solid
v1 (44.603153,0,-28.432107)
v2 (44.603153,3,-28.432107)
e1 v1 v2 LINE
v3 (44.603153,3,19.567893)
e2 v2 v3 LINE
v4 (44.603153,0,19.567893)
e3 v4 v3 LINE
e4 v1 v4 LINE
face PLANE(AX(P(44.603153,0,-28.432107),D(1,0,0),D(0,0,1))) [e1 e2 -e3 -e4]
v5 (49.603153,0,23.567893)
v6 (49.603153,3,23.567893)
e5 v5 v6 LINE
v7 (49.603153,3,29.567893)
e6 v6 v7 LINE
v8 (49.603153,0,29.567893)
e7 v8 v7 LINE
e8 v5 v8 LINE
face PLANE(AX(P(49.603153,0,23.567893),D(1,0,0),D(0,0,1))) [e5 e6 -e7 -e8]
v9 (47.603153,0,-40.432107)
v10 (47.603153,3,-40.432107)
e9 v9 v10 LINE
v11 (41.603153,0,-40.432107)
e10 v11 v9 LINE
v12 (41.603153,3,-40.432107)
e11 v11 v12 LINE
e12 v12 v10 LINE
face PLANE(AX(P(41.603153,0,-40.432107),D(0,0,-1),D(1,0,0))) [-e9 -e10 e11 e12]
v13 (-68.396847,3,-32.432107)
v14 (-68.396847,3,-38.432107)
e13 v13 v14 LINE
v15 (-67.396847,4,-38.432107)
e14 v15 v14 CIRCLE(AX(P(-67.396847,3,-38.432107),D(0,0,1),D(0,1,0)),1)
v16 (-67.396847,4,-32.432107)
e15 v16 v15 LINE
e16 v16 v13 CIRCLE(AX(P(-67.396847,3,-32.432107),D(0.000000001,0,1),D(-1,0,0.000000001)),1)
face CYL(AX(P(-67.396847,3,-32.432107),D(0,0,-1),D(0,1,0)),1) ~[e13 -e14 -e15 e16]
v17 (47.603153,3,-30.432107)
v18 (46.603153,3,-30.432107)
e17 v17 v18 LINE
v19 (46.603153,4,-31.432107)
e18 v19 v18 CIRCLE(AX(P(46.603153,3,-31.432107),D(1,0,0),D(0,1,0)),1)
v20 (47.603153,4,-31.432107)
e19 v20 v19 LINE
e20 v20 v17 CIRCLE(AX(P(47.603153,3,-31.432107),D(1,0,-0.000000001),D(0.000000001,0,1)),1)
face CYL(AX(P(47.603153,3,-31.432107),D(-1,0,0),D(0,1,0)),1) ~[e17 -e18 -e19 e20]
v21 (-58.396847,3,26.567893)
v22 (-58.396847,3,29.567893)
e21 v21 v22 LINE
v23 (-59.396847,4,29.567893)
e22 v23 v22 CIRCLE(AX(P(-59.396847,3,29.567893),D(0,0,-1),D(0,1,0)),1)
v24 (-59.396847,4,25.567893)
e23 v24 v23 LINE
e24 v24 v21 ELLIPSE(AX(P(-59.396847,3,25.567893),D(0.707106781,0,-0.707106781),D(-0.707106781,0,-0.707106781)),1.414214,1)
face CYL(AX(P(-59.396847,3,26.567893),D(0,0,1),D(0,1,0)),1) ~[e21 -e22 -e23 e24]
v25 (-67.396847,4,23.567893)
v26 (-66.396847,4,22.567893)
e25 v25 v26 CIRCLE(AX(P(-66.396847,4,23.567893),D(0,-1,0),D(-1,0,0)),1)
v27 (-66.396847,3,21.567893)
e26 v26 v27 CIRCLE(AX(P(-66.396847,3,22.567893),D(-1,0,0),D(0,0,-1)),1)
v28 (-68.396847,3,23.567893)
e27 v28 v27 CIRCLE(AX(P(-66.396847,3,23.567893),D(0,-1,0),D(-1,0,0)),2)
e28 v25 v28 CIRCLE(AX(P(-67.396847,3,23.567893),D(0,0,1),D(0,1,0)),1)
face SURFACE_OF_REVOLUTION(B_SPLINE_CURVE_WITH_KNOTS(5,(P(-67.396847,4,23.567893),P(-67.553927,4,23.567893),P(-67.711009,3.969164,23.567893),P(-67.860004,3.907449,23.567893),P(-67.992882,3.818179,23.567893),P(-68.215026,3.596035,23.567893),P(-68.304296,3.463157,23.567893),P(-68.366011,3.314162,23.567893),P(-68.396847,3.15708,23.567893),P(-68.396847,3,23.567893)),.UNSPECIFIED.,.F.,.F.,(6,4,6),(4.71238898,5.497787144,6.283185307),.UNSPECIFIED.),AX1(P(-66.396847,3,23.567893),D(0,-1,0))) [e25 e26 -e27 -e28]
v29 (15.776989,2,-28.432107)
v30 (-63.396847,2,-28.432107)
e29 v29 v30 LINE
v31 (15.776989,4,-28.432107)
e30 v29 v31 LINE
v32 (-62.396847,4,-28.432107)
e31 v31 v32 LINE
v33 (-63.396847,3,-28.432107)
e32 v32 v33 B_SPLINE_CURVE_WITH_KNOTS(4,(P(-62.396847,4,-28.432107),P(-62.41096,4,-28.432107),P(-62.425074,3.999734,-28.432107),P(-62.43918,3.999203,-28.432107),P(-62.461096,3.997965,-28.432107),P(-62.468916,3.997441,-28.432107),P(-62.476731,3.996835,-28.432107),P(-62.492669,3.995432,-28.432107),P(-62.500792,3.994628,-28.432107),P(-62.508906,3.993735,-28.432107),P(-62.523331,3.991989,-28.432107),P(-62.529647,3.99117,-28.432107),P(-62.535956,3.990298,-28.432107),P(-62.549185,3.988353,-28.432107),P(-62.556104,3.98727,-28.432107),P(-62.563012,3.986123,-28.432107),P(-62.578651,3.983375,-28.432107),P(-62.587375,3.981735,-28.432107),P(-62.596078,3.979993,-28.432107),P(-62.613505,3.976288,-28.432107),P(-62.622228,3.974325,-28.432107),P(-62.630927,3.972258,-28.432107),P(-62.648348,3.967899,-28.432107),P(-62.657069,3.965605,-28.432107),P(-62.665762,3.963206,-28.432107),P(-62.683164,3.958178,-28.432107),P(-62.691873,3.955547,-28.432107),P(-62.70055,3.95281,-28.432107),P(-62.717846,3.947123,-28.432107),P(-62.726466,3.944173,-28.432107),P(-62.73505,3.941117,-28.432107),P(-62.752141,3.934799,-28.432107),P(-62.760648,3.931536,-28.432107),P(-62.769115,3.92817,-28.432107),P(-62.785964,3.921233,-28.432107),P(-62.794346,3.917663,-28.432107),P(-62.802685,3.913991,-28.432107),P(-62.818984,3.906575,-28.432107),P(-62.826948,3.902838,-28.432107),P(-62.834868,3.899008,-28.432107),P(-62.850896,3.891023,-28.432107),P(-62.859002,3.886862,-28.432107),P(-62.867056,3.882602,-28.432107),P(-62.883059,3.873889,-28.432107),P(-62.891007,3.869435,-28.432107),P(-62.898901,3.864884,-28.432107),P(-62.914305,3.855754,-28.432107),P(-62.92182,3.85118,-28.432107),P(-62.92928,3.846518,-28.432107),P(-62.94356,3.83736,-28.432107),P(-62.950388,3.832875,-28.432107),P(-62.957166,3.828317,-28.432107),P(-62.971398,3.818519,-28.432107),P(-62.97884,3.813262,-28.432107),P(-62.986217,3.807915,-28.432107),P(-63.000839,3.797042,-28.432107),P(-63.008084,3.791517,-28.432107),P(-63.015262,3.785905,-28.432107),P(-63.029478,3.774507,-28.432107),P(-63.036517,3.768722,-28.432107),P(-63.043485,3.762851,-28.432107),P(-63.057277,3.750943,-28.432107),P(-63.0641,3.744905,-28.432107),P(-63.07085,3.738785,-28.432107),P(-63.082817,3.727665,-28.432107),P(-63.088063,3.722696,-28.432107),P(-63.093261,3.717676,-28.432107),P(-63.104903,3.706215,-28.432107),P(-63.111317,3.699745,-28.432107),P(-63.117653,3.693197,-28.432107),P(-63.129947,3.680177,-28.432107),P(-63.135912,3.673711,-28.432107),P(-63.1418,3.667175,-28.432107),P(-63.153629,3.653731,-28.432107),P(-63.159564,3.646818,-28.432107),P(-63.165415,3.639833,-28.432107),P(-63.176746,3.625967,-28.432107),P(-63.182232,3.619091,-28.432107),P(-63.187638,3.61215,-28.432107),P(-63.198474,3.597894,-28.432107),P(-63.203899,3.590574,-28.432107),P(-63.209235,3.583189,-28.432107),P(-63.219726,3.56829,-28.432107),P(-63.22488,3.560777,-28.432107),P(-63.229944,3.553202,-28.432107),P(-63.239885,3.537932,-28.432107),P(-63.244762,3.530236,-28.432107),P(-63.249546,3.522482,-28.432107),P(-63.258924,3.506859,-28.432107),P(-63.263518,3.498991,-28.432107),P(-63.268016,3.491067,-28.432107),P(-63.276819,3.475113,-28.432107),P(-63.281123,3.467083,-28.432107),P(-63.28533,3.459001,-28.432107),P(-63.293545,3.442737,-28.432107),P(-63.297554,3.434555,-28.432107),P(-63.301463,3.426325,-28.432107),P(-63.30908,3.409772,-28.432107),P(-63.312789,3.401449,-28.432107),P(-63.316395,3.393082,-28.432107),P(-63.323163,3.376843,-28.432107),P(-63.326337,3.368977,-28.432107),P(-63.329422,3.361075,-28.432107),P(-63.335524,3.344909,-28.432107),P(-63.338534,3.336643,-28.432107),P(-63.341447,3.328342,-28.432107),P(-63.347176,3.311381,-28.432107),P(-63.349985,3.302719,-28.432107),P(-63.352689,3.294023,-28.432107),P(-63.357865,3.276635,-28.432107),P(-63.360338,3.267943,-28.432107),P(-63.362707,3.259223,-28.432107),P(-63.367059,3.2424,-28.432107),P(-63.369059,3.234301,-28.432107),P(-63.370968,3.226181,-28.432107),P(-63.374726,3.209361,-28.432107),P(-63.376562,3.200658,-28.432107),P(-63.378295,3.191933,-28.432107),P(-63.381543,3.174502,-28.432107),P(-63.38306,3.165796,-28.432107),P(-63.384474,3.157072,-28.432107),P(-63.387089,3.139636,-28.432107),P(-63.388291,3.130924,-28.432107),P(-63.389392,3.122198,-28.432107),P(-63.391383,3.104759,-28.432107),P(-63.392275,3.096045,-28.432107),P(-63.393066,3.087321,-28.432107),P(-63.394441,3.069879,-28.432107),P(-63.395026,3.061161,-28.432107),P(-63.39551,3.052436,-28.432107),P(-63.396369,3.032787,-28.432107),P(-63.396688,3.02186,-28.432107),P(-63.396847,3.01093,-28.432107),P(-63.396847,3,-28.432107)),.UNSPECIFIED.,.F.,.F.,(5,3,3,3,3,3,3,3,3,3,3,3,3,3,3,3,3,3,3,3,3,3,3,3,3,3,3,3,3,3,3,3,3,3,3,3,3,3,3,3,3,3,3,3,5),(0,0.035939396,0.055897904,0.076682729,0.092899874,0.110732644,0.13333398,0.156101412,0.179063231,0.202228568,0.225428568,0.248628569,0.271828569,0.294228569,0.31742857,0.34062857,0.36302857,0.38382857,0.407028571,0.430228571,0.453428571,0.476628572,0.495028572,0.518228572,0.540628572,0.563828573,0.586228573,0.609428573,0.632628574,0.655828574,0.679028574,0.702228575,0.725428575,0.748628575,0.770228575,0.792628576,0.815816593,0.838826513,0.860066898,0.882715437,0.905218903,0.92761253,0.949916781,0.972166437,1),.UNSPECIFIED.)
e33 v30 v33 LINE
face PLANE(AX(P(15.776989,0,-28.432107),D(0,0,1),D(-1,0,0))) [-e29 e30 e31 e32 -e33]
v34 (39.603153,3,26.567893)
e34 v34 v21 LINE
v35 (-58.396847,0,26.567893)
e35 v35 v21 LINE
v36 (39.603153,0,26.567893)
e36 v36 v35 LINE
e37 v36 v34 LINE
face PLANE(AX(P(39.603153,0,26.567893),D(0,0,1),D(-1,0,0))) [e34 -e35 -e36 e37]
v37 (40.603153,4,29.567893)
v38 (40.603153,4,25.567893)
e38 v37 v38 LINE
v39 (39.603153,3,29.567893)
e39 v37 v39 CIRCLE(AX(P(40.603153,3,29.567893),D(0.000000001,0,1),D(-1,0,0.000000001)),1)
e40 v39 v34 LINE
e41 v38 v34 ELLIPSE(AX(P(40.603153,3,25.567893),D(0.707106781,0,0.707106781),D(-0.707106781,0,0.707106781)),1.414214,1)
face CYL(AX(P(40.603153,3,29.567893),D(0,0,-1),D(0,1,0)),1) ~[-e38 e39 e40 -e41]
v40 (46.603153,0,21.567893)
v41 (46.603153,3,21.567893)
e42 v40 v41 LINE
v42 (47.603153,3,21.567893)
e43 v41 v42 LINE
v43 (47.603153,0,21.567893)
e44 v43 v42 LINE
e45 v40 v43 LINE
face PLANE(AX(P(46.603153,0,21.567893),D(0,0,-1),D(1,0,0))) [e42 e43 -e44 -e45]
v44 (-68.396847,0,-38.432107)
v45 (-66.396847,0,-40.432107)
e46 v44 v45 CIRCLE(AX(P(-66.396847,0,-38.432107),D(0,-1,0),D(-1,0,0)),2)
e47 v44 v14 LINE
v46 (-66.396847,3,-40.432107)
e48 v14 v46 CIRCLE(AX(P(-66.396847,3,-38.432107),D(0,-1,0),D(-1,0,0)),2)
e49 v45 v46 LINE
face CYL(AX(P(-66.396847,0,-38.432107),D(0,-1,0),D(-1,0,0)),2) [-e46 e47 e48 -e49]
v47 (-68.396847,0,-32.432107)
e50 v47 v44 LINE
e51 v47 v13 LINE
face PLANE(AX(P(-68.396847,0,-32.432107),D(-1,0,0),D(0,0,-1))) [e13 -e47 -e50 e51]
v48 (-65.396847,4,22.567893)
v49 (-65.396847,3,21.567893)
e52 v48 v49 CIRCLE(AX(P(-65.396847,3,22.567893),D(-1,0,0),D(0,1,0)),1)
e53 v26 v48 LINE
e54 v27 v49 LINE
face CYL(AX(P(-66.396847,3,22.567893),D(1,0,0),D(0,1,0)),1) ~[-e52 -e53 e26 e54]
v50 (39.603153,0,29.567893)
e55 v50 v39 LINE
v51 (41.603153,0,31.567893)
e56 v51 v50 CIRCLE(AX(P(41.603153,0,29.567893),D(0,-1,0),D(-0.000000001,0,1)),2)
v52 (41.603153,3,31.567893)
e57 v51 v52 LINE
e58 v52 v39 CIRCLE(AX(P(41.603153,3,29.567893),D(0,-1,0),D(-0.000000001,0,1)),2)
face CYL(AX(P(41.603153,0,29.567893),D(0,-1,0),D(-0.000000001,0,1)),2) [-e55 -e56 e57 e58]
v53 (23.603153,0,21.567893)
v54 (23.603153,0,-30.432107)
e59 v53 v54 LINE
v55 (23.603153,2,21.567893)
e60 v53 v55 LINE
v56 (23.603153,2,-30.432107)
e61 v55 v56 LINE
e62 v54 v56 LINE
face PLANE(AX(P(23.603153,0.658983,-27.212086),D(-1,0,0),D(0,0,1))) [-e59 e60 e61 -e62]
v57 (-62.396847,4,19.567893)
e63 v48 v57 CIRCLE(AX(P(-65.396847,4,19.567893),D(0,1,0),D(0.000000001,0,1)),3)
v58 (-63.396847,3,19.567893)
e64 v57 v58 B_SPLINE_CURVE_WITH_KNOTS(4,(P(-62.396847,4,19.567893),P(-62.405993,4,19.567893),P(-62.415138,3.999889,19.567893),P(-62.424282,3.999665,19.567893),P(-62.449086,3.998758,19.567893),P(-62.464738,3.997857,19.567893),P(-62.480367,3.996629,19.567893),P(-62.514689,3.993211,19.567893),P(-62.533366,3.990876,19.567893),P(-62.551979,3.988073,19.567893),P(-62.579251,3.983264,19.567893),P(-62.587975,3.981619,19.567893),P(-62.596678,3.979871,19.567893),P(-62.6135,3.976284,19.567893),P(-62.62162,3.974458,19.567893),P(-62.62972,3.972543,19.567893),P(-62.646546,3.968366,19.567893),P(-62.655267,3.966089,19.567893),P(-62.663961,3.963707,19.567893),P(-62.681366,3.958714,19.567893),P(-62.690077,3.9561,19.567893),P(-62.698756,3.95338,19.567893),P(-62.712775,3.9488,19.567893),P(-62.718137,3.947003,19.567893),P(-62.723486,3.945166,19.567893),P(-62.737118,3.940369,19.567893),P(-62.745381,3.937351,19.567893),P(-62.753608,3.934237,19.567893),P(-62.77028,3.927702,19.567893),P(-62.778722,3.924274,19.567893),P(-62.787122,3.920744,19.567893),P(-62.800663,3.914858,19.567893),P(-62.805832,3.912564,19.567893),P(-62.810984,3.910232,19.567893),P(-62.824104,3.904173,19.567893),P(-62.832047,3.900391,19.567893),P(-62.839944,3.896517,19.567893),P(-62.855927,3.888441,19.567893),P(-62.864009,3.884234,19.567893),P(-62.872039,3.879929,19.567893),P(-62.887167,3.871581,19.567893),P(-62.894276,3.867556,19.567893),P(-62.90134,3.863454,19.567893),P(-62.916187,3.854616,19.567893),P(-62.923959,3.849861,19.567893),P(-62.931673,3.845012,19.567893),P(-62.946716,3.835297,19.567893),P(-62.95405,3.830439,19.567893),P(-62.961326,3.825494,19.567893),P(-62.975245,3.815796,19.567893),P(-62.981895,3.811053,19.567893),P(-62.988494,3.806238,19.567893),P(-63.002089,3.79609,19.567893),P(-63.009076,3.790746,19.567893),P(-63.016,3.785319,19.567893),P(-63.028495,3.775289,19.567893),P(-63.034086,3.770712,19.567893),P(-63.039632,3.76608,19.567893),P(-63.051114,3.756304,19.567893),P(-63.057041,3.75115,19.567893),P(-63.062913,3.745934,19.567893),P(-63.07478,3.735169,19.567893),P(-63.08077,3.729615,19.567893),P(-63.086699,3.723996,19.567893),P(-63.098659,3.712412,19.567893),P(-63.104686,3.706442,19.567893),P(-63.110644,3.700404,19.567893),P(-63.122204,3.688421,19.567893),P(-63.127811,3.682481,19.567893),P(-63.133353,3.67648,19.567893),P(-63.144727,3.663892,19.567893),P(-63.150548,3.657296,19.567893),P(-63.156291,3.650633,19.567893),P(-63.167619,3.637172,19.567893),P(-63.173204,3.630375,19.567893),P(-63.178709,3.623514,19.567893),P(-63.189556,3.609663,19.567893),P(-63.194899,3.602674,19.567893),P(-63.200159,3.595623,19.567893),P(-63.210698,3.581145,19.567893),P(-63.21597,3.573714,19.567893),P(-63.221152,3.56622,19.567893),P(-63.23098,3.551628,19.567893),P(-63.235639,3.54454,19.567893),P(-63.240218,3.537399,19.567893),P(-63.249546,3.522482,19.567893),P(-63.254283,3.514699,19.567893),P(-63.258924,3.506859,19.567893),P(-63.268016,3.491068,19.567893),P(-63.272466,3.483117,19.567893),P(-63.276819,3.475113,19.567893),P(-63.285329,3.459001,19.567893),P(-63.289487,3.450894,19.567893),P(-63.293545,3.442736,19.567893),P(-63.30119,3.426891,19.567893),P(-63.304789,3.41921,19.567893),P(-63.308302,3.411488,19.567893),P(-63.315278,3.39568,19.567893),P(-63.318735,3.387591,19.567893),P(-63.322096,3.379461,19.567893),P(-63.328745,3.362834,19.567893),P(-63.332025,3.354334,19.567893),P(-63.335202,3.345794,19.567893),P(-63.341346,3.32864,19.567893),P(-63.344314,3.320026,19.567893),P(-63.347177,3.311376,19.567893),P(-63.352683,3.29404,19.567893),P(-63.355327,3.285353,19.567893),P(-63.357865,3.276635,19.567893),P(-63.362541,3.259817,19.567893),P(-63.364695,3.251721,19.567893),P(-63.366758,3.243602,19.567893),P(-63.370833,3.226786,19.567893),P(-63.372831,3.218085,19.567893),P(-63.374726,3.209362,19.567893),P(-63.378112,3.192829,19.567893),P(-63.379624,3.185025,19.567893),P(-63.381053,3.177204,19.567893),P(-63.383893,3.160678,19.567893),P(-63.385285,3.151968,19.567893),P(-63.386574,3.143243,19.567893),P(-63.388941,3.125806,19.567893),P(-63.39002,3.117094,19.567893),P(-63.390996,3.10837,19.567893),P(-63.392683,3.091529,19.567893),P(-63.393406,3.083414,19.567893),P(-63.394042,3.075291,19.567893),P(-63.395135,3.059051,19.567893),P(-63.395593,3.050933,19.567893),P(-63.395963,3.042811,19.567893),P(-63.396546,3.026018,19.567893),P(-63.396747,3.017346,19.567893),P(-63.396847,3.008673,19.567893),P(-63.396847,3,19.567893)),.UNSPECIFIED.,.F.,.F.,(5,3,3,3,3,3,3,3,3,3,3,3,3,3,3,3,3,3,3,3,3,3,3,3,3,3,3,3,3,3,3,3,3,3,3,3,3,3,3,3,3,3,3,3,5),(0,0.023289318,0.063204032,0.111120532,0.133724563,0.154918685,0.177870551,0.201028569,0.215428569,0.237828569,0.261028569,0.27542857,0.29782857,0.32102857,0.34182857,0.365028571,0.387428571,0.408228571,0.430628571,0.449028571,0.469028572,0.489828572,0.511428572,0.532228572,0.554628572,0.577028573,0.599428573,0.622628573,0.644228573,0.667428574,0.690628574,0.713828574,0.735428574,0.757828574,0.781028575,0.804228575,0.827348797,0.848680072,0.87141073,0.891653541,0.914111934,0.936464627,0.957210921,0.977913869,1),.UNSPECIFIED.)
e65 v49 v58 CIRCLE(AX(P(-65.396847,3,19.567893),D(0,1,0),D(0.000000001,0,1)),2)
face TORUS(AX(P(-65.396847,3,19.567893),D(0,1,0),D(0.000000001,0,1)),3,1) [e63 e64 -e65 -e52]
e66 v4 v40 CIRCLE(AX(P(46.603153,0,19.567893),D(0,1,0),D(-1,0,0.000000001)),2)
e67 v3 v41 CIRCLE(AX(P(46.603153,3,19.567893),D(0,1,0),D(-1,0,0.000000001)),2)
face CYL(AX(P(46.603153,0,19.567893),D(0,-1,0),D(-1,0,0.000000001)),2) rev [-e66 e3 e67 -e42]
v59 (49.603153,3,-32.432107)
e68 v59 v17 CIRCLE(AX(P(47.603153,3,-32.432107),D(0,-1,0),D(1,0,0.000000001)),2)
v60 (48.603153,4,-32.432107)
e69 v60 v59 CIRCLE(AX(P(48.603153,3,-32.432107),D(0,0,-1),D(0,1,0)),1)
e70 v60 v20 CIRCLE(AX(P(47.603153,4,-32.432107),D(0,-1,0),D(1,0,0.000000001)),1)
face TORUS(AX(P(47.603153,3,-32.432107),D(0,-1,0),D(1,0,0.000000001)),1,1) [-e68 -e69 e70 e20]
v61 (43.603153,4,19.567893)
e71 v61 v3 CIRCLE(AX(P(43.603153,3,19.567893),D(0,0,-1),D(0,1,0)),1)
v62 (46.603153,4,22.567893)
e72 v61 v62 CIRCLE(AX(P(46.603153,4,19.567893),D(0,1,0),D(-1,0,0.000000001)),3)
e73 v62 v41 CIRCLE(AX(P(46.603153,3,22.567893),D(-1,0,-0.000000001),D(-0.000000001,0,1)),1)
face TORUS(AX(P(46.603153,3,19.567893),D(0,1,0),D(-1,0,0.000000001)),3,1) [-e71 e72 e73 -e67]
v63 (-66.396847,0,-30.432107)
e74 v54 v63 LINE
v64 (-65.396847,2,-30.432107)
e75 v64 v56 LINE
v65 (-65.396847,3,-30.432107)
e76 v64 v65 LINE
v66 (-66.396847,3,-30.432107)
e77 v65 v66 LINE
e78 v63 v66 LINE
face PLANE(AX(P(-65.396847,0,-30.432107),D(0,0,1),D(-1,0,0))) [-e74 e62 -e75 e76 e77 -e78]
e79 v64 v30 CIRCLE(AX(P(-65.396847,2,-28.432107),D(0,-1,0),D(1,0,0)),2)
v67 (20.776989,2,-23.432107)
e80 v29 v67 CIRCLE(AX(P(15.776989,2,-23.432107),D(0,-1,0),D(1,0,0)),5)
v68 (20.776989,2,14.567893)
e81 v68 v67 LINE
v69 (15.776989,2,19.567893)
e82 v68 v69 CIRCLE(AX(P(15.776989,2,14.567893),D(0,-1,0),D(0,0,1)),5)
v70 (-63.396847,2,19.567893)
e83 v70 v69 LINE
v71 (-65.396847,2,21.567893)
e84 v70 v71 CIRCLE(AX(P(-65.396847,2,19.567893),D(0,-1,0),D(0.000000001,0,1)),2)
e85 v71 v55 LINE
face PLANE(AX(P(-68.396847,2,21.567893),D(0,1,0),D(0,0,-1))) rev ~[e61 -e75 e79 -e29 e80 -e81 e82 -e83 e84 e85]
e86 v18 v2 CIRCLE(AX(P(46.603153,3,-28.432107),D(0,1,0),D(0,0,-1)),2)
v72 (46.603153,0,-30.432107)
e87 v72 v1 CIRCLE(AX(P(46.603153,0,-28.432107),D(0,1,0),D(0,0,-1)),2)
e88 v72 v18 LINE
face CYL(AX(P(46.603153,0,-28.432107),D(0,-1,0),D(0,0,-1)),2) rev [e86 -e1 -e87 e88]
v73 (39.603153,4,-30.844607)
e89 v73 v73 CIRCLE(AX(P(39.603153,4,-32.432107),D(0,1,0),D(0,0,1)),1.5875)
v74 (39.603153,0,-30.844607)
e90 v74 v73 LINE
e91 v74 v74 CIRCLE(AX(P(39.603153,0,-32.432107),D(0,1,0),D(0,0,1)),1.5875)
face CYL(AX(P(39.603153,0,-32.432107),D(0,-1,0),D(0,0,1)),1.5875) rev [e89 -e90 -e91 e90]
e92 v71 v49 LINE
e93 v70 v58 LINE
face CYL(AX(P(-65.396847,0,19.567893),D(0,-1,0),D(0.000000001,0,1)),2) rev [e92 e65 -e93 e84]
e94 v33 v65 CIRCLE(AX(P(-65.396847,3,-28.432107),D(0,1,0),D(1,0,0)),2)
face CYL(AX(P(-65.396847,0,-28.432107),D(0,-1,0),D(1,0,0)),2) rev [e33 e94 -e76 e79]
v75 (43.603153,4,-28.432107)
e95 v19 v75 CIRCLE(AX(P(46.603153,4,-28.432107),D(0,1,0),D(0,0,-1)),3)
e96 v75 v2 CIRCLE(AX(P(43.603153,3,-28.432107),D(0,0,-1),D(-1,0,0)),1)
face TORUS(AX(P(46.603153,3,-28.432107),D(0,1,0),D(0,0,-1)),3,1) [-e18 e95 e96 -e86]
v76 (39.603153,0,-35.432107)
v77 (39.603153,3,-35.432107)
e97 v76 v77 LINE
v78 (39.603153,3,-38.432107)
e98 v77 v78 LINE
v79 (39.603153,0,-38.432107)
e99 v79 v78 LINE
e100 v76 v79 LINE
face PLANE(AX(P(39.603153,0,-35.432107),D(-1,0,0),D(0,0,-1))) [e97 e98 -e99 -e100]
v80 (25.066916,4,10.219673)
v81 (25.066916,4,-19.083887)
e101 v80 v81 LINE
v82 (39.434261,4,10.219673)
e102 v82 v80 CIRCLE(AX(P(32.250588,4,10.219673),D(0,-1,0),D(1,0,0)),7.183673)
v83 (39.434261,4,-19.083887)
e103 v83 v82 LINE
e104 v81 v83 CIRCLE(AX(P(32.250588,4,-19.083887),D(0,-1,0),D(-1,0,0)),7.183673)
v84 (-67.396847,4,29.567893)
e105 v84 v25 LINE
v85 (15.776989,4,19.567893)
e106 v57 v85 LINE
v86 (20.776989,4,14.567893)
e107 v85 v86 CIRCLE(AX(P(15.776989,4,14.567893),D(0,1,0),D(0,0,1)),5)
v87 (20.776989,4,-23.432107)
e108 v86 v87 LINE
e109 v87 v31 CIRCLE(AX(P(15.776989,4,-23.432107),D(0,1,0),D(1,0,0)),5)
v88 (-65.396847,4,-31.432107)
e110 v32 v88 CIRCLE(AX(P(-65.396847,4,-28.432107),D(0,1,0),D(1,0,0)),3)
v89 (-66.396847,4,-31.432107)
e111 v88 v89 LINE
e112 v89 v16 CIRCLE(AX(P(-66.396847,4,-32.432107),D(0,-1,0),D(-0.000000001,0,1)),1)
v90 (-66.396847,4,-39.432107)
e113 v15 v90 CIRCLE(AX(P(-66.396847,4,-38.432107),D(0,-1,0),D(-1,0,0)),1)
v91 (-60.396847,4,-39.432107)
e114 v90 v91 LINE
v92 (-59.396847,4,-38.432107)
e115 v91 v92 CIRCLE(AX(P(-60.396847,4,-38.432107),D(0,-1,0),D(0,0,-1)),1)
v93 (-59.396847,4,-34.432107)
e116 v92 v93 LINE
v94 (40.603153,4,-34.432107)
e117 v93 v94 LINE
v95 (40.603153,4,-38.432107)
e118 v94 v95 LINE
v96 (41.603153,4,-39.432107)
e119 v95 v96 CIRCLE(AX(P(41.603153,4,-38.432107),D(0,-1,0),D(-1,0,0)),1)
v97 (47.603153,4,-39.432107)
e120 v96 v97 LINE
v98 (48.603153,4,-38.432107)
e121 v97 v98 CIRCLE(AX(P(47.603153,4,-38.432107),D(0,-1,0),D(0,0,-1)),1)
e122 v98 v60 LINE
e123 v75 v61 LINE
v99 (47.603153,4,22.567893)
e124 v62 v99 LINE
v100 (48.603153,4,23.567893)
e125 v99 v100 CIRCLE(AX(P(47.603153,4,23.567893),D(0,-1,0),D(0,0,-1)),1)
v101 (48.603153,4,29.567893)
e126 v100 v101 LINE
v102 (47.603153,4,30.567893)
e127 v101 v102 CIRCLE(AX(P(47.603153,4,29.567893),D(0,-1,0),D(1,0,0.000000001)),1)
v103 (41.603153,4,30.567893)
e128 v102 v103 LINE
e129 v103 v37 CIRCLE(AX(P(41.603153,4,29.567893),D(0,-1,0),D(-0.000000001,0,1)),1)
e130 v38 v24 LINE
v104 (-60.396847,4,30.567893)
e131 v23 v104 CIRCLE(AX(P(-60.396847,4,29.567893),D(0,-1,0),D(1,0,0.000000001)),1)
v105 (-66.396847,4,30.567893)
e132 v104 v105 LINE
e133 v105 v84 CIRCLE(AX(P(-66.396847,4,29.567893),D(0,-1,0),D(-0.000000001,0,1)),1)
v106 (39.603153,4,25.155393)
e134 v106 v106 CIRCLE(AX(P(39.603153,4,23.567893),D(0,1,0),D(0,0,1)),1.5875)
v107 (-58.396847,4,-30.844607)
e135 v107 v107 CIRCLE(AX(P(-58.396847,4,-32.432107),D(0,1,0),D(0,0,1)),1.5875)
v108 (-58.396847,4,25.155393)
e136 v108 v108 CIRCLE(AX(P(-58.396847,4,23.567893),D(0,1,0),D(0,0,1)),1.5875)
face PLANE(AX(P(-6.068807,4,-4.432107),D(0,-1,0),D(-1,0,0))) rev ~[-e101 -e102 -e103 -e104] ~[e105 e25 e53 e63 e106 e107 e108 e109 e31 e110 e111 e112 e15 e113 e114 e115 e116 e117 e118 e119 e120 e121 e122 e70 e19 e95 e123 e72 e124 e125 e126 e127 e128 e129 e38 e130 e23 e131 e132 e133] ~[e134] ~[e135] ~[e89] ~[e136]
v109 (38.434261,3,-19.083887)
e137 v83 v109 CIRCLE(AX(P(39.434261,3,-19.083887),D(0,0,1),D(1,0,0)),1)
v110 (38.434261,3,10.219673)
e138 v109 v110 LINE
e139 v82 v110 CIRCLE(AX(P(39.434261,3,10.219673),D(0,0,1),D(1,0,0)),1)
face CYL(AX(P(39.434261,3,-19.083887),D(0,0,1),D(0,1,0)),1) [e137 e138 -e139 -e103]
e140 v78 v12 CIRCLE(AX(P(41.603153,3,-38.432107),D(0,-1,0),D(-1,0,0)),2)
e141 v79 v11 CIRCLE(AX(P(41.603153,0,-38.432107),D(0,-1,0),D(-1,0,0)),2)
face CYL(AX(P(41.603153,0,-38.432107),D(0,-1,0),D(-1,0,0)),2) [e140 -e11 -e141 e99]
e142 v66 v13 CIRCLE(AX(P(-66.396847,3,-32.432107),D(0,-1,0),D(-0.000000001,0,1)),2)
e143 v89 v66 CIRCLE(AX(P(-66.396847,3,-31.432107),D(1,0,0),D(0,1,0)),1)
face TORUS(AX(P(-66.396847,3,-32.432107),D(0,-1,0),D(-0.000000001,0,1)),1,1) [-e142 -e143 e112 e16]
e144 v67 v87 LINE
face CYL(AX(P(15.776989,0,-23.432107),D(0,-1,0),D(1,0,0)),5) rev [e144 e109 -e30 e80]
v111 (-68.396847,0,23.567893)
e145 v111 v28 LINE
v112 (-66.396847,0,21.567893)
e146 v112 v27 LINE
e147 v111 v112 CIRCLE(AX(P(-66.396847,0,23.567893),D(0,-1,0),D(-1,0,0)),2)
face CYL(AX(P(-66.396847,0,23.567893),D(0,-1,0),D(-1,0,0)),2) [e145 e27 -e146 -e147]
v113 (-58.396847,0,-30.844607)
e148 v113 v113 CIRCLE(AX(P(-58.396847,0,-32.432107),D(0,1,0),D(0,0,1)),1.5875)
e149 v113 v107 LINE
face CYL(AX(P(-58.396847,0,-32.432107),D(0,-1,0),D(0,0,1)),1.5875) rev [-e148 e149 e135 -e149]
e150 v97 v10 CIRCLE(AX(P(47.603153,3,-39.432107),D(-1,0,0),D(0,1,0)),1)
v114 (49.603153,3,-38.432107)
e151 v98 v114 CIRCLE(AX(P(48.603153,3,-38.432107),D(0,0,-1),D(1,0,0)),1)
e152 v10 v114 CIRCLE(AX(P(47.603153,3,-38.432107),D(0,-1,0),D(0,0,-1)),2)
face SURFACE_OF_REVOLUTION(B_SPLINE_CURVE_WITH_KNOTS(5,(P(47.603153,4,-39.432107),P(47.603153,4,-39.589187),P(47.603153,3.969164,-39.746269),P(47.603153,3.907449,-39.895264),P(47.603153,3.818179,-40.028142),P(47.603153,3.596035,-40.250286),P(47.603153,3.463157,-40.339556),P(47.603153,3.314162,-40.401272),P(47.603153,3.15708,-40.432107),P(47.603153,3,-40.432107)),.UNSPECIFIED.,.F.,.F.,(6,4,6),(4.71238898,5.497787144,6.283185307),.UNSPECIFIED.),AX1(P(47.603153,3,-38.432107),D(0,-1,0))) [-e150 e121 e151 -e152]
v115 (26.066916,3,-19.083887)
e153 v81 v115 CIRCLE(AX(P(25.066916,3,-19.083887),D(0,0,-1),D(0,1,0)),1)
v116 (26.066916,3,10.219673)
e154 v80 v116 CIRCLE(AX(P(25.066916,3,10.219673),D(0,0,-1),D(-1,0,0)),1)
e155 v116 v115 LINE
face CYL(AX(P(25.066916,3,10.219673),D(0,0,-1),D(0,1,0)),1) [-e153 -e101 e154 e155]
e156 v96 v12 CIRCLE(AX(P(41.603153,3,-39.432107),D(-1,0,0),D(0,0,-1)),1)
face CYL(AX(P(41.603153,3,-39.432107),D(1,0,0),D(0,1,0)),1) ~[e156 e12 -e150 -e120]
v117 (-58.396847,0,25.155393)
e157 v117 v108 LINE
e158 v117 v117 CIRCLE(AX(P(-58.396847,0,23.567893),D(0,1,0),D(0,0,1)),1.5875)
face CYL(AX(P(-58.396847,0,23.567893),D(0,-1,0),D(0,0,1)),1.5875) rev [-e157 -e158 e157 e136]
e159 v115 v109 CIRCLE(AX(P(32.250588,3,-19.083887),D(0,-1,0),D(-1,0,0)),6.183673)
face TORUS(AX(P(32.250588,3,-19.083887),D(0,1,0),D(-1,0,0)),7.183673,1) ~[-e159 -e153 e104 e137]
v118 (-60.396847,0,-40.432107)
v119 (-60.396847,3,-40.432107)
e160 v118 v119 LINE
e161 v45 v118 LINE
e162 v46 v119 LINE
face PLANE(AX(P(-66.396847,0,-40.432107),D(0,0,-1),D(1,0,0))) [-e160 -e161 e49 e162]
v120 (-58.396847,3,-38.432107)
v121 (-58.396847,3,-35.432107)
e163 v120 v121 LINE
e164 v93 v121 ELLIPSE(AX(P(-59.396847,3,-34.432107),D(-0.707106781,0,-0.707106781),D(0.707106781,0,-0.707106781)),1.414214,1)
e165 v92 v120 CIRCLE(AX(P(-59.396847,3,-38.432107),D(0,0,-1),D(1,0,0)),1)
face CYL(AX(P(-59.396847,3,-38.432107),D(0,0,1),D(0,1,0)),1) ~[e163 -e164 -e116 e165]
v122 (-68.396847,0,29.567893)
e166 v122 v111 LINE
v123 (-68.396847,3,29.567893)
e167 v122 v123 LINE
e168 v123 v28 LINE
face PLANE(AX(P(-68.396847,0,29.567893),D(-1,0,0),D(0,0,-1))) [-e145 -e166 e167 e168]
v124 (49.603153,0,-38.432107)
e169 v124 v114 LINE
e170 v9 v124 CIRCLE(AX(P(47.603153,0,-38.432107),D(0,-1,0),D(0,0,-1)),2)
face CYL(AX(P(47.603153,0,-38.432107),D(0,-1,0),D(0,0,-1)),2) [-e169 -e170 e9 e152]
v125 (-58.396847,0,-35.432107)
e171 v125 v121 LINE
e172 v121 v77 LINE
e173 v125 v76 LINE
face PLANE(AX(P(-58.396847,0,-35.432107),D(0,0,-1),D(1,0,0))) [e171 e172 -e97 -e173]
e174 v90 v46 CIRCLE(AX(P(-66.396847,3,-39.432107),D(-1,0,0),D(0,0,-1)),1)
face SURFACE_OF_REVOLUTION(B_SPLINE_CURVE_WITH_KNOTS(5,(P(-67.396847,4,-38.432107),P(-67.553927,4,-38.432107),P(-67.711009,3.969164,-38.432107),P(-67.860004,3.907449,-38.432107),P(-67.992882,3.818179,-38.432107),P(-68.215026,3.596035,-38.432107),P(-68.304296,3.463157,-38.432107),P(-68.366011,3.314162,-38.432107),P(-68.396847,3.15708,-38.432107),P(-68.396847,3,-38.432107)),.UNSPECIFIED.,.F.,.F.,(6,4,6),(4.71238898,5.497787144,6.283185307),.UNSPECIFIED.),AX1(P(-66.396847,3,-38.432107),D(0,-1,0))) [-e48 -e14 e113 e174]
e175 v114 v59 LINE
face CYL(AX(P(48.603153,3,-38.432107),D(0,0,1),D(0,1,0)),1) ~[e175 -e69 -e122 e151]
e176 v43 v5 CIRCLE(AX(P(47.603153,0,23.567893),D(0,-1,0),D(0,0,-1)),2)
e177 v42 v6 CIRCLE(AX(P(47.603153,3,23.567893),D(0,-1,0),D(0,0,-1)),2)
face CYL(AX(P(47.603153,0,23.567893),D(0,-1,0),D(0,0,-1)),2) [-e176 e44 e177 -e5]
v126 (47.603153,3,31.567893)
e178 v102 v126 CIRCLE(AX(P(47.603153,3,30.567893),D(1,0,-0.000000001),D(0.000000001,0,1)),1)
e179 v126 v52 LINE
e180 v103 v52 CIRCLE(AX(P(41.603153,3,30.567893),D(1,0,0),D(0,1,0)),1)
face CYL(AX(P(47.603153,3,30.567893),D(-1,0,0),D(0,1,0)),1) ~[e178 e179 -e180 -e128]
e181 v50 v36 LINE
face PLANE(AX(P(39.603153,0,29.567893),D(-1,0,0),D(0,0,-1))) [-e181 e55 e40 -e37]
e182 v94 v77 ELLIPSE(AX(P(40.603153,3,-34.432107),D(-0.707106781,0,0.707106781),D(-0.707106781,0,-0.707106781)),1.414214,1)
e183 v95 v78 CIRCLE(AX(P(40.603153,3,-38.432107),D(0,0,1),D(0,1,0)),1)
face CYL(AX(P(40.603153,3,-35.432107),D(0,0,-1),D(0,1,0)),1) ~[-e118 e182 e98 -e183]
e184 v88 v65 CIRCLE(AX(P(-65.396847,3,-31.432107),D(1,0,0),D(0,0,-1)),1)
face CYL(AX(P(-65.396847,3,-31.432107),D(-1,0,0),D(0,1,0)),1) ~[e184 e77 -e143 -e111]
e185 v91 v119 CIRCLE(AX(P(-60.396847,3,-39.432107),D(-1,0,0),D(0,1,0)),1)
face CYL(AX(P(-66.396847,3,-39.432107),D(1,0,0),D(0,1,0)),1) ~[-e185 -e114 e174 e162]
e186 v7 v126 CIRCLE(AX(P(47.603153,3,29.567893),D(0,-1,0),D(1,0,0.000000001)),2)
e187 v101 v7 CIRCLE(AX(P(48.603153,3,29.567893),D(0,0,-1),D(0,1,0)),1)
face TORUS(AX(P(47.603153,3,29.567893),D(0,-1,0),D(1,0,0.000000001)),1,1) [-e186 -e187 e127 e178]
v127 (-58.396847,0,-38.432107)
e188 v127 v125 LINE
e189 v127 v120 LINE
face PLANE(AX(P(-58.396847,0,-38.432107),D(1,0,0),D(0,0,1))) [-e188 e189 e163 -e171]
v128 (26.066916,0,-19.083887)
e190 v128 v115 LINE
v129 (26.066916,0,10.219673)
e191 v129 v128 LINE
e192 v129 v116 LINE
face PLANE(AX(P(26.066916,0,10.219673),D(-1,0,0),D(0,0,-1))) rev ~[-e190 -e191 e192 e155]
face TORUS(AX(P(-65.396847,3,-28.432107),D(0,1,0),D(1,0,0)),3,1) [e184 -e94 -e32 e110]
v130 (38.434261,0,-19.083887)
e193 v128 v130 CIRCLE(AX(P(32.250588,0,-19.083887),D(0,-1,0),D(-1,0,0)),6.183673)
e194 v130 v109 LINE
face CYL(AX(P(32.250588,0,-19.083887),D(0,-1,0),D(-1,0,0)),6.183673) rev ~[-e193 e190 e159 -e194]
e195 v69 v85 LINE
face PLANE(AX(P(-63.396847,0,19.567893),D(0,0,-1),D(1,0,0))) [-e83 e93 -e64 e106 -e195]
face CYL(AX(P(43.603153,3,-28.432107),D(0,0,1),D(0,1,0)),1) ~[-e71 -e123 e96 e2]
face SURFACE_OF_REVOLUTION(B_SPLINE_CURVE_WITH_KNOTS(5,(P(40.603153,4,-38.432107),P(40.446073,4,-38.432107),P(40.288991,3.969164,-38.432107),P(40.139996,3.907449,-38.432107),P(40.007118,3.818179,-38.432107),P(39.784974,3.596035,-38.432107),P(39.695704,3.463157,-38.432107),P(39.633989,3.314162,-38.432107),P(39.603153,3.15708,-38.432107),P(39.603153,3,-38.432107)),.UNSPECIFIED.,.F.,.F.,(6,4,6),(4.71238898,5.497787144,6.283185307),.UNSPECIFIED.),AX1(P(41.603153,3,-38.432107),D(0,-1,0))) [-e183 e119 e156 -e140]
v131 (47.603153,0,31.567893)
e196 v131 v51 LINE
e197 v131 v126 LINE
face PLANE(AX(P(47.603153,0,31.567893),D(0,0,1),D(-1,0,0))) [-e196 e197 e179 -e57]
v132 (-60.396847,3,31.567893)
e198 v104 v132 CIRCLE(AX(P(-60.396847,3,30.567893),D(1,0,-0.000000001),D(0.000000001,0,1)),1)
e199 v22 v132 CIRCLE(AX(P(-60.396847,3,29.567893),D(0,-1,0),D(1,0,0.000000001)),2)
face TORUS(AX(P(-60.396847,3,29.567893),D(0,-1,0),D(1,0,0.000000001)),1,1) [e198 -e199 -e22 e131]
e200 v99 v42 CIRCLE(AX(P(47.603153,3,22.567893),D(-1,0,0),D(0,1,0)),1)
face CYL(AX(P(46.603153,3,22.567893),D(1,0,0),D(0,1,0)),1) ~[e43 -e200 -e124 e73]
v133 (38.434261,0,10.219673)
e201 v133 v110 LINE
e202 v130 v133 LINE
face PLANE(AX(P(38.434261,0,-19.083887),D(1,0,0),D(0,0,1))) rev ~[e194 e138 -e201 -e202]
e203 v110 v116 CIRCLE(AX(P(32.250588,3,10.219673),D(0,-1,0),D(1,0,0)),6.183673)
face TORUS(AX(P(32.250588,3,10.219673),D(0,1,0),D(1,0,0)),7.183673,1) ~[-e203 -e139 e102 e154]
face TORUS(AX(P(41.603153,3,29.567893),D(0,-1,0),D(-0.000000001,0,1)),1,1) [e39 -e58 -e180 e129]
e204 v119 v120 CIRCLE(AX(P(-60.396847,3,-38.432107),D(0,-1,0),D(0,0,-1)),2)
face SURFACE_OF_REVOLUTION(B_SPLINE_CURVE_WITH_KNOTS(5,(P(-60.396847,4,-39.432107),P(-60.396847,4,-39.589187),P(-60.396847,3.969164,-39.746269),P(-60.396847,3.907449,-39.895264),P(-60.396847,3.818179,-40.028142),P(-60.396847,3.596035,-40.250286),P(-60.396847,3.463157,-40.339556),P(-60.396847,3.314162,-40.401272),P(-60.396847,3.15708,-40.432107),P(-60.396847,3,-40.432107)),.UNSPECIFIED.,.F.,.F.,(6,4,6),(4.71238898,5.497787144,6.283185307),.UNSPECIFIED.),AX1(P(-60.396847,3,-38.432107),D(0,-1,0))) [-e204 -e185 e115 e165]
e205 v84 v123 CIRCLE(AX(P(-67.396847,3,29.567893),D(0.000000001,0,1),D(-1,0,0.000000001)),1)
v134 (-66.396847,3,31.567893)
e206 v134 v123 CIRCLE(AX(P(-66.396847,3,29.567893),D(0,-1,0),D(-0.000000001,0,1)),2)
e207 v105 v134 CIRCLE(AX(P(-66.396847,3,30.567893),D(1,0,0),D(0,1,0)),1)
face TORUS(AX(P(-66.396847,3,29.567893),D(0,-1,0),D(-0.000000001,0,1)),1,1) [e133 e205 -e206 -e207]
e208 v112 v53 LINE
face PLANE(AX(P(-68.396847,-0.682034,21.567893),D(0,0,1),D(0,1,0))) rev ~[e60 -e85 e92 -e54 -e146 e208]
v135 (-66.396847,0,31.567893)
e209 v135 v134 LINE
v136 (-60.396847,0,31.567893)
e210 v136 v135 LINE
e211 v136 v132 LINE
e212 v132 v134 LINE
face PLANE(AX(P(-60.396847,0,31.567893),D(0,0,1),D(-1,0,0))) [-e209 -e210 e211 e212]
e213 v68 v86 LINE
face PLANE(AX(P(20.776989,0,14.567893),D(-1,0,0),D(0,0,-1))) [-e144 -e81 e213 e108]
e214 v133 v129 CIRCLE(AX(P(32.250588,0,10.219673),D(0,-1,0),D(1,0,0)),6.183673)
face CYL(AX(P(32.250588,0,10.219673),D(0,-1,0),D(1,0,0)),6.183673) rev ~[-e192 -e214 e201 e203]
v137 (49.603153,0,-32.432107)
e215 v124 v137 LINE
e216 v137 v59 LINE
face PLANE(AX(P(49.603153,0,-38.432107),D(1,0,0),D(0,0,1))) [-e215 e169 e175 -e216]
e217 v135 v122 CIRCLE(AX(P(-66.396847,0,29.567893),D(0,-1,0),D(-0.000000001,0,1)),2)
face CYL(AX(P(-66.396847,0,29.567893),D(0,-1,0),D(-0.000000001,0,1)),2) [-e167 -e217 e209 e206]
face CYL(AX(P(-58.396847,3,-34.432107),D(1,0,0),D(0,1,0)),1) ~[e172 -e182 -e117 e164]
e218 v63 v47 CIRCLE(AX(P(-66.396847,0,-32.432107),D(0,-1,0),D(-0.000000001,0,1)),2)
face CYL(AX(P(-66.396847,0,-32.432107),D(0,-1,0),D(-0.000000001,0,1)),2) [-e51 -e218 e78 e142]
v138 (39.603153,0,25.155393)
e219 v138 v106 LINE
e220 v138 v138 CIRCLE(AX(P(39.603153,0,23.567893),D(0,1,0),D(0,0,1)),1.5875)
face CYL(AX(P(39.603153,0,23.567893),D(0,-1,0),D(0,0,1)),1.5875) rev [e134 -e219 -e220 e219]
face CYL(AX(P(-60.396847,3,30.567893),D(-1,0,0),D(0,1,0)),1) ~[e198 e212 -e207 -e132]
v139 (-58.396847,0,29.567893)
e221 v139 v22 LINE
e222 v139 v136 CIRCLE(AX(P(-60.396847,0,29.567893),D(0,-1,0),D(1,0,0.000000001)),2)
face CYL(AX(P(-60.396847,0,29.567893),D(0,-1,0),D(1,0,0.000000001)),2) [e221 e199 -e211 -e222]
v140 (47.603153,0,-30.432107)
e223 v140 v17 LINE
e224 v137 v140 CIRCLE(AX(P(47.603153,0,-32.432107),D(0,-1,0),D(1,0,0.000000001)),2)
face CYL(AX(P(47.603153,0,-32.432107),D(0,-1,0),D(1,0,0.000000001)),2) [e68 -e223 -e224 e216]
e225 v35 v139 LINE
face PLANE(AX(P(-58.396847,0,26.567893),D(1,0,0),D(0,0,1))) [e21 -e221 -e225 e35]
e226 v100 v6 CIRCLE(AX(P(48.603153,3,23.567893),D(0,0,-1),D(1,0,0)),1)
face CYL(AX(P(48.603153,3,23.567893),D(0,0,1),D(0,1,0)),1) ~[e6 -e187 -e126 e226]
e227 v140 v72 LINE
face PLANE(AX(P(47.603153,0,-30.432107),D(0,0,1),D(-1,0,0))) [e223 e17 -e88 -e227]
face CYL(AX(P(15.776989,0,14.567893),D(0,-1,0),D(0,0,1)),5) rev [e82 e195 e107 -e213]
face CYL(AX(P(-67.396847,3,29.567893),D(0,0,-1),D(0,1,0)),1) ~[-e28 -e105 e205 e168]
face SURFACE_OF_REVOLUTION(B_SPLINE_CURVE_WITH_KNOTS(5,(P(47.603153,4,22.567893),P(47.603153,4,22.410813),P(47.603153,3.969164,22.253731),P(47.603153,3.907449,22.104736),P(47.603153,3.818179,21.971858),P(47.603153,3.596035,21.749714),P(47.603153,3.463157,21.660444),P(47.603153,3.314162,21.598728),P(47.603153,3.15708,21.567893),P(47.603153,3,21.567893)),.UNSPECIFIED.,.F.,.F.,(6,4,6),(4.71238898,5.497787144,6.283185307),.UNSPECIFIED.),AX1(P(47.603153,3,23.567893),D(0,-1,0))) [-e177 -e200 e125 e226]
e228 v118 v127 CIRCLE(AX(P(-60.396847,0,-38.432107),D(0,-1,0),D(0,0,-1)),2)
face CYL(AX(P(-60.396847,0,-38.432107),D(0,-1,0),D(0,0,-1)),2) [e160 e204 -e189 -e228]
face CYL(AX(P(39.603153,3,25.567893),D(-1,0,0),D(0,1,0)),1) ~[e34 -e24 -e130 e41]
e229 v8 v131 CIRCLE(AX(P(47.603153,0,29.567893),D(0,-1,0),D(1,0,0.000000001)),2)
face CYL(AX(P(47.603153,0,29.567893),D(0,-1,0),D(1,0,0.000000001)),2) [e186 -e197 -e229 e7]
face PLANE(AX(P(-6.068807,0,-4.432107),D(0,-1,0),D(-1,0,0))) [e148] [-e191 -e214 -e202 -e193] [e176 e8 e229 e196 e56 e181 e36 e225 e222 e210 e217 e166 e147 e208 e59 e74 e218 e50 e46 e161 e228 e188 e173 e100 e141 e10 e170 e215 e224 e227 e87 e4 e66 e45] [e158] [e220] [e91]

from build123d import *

# Parameters (mm, degrees)
CROQUIS2_R              = 1.5875
SALIENTE_EXTRUIR1_DEPTH = 4
CROQUIS3_W              = 6.440041964
CROQUIS3_H              = 2.682034213
CROQUIS3_W_2            = 39.119916072
CORTAR_EXTRUIR1_DEPTH   = 92
REDONDEO1_R             = 1


with BuildPart() as part:
    # Croquis2 → Saliente-Extruir1 (new body)
    with BuildSketch(Plane(origin=(0, 0, 0), x_dir=(1, 0, 0), z_dir=(0, 1, 0))):
        with BuildLine():
            Line((44.603152988, 28.432107171), (44.603152988, -19.567892829))
            ThreePointArc((44.603152988, -19.567892829), (45.188939426, -20.982106391), (46.603152988, -21.567892829))
            Line((46.603152988, -21.567892829), (47.603152988, -21.567892829))
            ThreePointArc((47.603152988, -21.567892829), (49.01736655, -22.153679266), (49.603152988, -23.567892829))
            Line((49.603152988, -23.567892829), (49.603152988, -29.567892829))
            ThreePointArc((49.603152988, -29.567892829), (49.01736655, -30.982106391), (47.603152988, -31.567892829))
            Line((47.603152988, -31.567892829), (41.603152988, -31.567892829))
            ThreePointArc((41.603152988, -31.567892829), (40.188939426, -30.982106391), (39.603152988, -29.567892829))
            Line((39.603152988, -29.567892829), (39.603152988, -29.067892829))
            Line((39.603152988, -29.067892829), (39.603152988, -26.567892829))
            Line((39.603152988, -26.567892829), (-58.396847012, -26.567892829))
            Line((-58.396847012, -26.567892829), (-58.396847012, -29.067892829))
            Line((-58.396847012, -29.067892829), (-58.396847012, -29.567892829))
            ThreePointArc((-58.396847012, -29.567892829), (-58.98263345, -30.982106391), (-60.396847012, -31.567892829))
            Line((-60.396847012, -31.567892829), (-66.396847012, -31.567892829))
            ThreePointArc((-66.396847012, -31.567892829), (-67.811060574, -30.982106391), (-68.396847012, -29.567892829))
            Line((-68.396847012, -29.567892829), (-68.396847012, -23.567892829))
            ThreePointArc((-68.396847012, -23.567892829), (-67.811060574, -22.153679266), (-66.396847012, -21.567892829))
            Line((-66.396847012, -21.567892829), (-65.396847012, -21.567892829))
            ThreePointArc((-65.396847012, -21.567892829), (-63.98263345, -20.982106391), (-63.396847012, -19.567892829))
            Line((-63.396847012, -19.567892829), (15.776989182, -19.567892829))
            ThreePointArc((15.776989182, -19.567892829), (19.312523088, -18.103426735), (20.776989182, -14.567892829))
            Line((20.776989182, -14.567892829), (20.776989182, 23.432107171))
            ThreePointArc((20.776989182, 23.432107171), (19.312523088, 26.967641077), (15.776989182, 28.432107171))
            Line((15.776989182, 28.432107171), (-63.396847012, 28.432107171))
            ThreePointArc((-63.396847012, 28.432107171), (-63.98263345, 29.846320734), (-65.396847012, 30.432107171))
            Line((-65.396847012, 30.432107171), (-66.396847012, 30.432107171))
            ThreePointArc((-66.396847012, 30.432107171), (-67.811060574, 31.017893609), (-68.396847012, 32.432107171))
            Line((-68.396847012, 32.432107171), (-68.396847012, 38.432107171))
            ThreePointArc((-68.396847012, 38.432107171), (-67.811060574, 39.846320734), (-66.396847012, 40.432107171))
            Line((-66.396847012, 40.432107171), (-60.396847012, 40.432107171))
            ThreePointArc((-60.396847012, 40.432107171), (-58.98263345, 39.846320734), (-58.396847012, 38.432107171))
            Line((-58.396847012, 38.432107171), (-58.396847012, 37.932107171))
            Line((-58.396847012, 37.932107171), (-58.396847012, 35.432107171))
            Line((-58.396847012, 35.432107171), (39.603152988, 35.432107171))
            Line((39.603152988, 35.432107171), (39.603152988, 37.932107171))
            Line((39.603152988, 37.932107171), (39.603152988, 38.432107171))
            ThreePointArc((39.603152988, 38.432107171), (40.188939426, 39.846320734), (41.603152988, 40.432107171))
            Line((41.603152988, 40.432107171), (47.603152988, 40.432107171))
            ThreePointArc((47.603152988, 40.432107171), (49.01736655, 39.846320734), (49.603152988, 38.432107171))
            Line((49.603152988, 38.432107171), (49.603152988, 32.432107171))
            ThreePointArc((49.603152988, 32.432107171), (49.01736655, 31.017893609), (47.603152988, 30.432107171))
            Line((47.603152988, 30.432107171), (46.603152988, 30.432107171))
            ThreePointArc((46.603152988, 30.432107171), (45.188939426, 29.846320734), (44.603152988, 28.432107171))
        make_face()
        with Locations(Location((-58.396847012, 32.432107171, 0), (0, 0, 270))):
            Circle(CROQUIS2_R, mode=Mode.SUBTRACT)
        with Locations(Location((-58.396847012, -23.567892829, 0), (0, 0, 270))):
            Circle(CROQUIS2_R, mode=Mode.SUBTRACT)
        with Locations(Location((39.603152988, -23.567892829, 0), (0, 0, 270))):
            Circle(CROQUIS2_R, mode=Mode.SUBTRACT)
        with Locations(Location((39.603152988, 32.432107171, 0), (0, 0, 270))):
            Circle(CROQUIS2_R, mode=Mode.SUBTRACT)
        with BuildLine():
            Line((38.434260776, 19.08388734), (38.434260776, -10.219672997))
            ThreePointArc((38.434260776, -10.219672997), (32.250588174, -16.403345599), (26.066915572, -10.219672997))
            Line((26.066915572, -10.219672997), (26.066915572, 19.08388734))
            ThreePointArc((26.066915572, 19.08388734), (32.250588174, 25.267559942), (38.434260776, 19.08388734))
        make_face(mode=Mode.SUBTRACT)
    extrude(amount=SALIENTE_EXTRUIR1_DEPTH)

    # Croquis3 → Cortar-Extruir1 (cut)
    with BuildSketch(Plane.ZY.offset(68.396847012)):
        with Locations((-27.212086189, 0.658982893)):
            Rectangle(CROQUIS3_W, CROQUIS3_H)
        with Locations((-4.432107171, 0.658982893)):
            Rectangle(CROQUIS3_W_2, CROQUIS3_H)
        with Locations((18.347871847, 0.658982893)):
            Rectangle(CROQUIS3_W, CROQUIS3_H)
    extrude(amount=-CORTAR_EXTRUIR1_DEPTH, mode=Mode.SUBTRACT)

    # Redondeo1
    redondeo1_edges = [part.edges().sort_by_distance(p)[0] for p in [
        (-9.396847012, 4, 26.567892829),
        (39.603152988, 4, 28.067892829),
        (40.188939426, 4, 30.982106391),
        (44.603152988, 4, 31.567892829),
        (49.01736655, 4, 30.982106391),
        (49.603152988, 4, 26.567892829),
        (49.01736655, 4, 22.153679266),
        (47.103152988, 4, 21.567892829),
        (45.188939426, 4, 20.982106391),
        (44.603152988, 4, -4.432107171),
        (45.188939426, 4, -29.846320734),
        (47.103152988, 4, -30.432107171),
        (49.01736655, 4, -31.017893609),
        (49.603152988, 4, -35.432107171),
        (49.01736655, 4, -39.846320734),
        (44.603152988, 4, -40.432107171),
        (40.188939426, 4, -39.846320734),
        (39.603152988, 4, -36.932107171),
        (-9.396847012, 4, -35.432107171),
        (-58.396847012, 4, -36.932107171),
        (-58.98263345, 4, -39.846320734),
        (-63.396847012, 4, -40.432107171),
        (-67.811060574, 4, -39.846320734),
        (-68.396847012, 4, -35.432107171),
        (-67.811060574, 4, -31.017893609),
        (-65.896847012, 4, -30.432107171),
        (-63.98263345, 4, -29.846320734),
        (32.250588174, 4, 16.403345599),
        (26.066915572, 4, -4.432107171),
        (32.250588174, 4, -25.267559942),
        (38.434260776, 4, -4.432107171),
        (-63.98263345, 4, 20.982106391),
        (-65.896847012, 4, 21.567892829),
        (-67.811060574, 4, 22.153679266),
        (-68.396847012, 4, 26.567892829),
        (-67.811060574, 4, 30.982106391),
        (-63.396847012, 4, 31.567892829),
        (-58.98263345, 4, 30.982106391),
        (-58.396847012, 4, 28.067892829),
    ]]
    fillet(redondeo1_edges, radius=REDONDEO1_R)


solid = part.part
